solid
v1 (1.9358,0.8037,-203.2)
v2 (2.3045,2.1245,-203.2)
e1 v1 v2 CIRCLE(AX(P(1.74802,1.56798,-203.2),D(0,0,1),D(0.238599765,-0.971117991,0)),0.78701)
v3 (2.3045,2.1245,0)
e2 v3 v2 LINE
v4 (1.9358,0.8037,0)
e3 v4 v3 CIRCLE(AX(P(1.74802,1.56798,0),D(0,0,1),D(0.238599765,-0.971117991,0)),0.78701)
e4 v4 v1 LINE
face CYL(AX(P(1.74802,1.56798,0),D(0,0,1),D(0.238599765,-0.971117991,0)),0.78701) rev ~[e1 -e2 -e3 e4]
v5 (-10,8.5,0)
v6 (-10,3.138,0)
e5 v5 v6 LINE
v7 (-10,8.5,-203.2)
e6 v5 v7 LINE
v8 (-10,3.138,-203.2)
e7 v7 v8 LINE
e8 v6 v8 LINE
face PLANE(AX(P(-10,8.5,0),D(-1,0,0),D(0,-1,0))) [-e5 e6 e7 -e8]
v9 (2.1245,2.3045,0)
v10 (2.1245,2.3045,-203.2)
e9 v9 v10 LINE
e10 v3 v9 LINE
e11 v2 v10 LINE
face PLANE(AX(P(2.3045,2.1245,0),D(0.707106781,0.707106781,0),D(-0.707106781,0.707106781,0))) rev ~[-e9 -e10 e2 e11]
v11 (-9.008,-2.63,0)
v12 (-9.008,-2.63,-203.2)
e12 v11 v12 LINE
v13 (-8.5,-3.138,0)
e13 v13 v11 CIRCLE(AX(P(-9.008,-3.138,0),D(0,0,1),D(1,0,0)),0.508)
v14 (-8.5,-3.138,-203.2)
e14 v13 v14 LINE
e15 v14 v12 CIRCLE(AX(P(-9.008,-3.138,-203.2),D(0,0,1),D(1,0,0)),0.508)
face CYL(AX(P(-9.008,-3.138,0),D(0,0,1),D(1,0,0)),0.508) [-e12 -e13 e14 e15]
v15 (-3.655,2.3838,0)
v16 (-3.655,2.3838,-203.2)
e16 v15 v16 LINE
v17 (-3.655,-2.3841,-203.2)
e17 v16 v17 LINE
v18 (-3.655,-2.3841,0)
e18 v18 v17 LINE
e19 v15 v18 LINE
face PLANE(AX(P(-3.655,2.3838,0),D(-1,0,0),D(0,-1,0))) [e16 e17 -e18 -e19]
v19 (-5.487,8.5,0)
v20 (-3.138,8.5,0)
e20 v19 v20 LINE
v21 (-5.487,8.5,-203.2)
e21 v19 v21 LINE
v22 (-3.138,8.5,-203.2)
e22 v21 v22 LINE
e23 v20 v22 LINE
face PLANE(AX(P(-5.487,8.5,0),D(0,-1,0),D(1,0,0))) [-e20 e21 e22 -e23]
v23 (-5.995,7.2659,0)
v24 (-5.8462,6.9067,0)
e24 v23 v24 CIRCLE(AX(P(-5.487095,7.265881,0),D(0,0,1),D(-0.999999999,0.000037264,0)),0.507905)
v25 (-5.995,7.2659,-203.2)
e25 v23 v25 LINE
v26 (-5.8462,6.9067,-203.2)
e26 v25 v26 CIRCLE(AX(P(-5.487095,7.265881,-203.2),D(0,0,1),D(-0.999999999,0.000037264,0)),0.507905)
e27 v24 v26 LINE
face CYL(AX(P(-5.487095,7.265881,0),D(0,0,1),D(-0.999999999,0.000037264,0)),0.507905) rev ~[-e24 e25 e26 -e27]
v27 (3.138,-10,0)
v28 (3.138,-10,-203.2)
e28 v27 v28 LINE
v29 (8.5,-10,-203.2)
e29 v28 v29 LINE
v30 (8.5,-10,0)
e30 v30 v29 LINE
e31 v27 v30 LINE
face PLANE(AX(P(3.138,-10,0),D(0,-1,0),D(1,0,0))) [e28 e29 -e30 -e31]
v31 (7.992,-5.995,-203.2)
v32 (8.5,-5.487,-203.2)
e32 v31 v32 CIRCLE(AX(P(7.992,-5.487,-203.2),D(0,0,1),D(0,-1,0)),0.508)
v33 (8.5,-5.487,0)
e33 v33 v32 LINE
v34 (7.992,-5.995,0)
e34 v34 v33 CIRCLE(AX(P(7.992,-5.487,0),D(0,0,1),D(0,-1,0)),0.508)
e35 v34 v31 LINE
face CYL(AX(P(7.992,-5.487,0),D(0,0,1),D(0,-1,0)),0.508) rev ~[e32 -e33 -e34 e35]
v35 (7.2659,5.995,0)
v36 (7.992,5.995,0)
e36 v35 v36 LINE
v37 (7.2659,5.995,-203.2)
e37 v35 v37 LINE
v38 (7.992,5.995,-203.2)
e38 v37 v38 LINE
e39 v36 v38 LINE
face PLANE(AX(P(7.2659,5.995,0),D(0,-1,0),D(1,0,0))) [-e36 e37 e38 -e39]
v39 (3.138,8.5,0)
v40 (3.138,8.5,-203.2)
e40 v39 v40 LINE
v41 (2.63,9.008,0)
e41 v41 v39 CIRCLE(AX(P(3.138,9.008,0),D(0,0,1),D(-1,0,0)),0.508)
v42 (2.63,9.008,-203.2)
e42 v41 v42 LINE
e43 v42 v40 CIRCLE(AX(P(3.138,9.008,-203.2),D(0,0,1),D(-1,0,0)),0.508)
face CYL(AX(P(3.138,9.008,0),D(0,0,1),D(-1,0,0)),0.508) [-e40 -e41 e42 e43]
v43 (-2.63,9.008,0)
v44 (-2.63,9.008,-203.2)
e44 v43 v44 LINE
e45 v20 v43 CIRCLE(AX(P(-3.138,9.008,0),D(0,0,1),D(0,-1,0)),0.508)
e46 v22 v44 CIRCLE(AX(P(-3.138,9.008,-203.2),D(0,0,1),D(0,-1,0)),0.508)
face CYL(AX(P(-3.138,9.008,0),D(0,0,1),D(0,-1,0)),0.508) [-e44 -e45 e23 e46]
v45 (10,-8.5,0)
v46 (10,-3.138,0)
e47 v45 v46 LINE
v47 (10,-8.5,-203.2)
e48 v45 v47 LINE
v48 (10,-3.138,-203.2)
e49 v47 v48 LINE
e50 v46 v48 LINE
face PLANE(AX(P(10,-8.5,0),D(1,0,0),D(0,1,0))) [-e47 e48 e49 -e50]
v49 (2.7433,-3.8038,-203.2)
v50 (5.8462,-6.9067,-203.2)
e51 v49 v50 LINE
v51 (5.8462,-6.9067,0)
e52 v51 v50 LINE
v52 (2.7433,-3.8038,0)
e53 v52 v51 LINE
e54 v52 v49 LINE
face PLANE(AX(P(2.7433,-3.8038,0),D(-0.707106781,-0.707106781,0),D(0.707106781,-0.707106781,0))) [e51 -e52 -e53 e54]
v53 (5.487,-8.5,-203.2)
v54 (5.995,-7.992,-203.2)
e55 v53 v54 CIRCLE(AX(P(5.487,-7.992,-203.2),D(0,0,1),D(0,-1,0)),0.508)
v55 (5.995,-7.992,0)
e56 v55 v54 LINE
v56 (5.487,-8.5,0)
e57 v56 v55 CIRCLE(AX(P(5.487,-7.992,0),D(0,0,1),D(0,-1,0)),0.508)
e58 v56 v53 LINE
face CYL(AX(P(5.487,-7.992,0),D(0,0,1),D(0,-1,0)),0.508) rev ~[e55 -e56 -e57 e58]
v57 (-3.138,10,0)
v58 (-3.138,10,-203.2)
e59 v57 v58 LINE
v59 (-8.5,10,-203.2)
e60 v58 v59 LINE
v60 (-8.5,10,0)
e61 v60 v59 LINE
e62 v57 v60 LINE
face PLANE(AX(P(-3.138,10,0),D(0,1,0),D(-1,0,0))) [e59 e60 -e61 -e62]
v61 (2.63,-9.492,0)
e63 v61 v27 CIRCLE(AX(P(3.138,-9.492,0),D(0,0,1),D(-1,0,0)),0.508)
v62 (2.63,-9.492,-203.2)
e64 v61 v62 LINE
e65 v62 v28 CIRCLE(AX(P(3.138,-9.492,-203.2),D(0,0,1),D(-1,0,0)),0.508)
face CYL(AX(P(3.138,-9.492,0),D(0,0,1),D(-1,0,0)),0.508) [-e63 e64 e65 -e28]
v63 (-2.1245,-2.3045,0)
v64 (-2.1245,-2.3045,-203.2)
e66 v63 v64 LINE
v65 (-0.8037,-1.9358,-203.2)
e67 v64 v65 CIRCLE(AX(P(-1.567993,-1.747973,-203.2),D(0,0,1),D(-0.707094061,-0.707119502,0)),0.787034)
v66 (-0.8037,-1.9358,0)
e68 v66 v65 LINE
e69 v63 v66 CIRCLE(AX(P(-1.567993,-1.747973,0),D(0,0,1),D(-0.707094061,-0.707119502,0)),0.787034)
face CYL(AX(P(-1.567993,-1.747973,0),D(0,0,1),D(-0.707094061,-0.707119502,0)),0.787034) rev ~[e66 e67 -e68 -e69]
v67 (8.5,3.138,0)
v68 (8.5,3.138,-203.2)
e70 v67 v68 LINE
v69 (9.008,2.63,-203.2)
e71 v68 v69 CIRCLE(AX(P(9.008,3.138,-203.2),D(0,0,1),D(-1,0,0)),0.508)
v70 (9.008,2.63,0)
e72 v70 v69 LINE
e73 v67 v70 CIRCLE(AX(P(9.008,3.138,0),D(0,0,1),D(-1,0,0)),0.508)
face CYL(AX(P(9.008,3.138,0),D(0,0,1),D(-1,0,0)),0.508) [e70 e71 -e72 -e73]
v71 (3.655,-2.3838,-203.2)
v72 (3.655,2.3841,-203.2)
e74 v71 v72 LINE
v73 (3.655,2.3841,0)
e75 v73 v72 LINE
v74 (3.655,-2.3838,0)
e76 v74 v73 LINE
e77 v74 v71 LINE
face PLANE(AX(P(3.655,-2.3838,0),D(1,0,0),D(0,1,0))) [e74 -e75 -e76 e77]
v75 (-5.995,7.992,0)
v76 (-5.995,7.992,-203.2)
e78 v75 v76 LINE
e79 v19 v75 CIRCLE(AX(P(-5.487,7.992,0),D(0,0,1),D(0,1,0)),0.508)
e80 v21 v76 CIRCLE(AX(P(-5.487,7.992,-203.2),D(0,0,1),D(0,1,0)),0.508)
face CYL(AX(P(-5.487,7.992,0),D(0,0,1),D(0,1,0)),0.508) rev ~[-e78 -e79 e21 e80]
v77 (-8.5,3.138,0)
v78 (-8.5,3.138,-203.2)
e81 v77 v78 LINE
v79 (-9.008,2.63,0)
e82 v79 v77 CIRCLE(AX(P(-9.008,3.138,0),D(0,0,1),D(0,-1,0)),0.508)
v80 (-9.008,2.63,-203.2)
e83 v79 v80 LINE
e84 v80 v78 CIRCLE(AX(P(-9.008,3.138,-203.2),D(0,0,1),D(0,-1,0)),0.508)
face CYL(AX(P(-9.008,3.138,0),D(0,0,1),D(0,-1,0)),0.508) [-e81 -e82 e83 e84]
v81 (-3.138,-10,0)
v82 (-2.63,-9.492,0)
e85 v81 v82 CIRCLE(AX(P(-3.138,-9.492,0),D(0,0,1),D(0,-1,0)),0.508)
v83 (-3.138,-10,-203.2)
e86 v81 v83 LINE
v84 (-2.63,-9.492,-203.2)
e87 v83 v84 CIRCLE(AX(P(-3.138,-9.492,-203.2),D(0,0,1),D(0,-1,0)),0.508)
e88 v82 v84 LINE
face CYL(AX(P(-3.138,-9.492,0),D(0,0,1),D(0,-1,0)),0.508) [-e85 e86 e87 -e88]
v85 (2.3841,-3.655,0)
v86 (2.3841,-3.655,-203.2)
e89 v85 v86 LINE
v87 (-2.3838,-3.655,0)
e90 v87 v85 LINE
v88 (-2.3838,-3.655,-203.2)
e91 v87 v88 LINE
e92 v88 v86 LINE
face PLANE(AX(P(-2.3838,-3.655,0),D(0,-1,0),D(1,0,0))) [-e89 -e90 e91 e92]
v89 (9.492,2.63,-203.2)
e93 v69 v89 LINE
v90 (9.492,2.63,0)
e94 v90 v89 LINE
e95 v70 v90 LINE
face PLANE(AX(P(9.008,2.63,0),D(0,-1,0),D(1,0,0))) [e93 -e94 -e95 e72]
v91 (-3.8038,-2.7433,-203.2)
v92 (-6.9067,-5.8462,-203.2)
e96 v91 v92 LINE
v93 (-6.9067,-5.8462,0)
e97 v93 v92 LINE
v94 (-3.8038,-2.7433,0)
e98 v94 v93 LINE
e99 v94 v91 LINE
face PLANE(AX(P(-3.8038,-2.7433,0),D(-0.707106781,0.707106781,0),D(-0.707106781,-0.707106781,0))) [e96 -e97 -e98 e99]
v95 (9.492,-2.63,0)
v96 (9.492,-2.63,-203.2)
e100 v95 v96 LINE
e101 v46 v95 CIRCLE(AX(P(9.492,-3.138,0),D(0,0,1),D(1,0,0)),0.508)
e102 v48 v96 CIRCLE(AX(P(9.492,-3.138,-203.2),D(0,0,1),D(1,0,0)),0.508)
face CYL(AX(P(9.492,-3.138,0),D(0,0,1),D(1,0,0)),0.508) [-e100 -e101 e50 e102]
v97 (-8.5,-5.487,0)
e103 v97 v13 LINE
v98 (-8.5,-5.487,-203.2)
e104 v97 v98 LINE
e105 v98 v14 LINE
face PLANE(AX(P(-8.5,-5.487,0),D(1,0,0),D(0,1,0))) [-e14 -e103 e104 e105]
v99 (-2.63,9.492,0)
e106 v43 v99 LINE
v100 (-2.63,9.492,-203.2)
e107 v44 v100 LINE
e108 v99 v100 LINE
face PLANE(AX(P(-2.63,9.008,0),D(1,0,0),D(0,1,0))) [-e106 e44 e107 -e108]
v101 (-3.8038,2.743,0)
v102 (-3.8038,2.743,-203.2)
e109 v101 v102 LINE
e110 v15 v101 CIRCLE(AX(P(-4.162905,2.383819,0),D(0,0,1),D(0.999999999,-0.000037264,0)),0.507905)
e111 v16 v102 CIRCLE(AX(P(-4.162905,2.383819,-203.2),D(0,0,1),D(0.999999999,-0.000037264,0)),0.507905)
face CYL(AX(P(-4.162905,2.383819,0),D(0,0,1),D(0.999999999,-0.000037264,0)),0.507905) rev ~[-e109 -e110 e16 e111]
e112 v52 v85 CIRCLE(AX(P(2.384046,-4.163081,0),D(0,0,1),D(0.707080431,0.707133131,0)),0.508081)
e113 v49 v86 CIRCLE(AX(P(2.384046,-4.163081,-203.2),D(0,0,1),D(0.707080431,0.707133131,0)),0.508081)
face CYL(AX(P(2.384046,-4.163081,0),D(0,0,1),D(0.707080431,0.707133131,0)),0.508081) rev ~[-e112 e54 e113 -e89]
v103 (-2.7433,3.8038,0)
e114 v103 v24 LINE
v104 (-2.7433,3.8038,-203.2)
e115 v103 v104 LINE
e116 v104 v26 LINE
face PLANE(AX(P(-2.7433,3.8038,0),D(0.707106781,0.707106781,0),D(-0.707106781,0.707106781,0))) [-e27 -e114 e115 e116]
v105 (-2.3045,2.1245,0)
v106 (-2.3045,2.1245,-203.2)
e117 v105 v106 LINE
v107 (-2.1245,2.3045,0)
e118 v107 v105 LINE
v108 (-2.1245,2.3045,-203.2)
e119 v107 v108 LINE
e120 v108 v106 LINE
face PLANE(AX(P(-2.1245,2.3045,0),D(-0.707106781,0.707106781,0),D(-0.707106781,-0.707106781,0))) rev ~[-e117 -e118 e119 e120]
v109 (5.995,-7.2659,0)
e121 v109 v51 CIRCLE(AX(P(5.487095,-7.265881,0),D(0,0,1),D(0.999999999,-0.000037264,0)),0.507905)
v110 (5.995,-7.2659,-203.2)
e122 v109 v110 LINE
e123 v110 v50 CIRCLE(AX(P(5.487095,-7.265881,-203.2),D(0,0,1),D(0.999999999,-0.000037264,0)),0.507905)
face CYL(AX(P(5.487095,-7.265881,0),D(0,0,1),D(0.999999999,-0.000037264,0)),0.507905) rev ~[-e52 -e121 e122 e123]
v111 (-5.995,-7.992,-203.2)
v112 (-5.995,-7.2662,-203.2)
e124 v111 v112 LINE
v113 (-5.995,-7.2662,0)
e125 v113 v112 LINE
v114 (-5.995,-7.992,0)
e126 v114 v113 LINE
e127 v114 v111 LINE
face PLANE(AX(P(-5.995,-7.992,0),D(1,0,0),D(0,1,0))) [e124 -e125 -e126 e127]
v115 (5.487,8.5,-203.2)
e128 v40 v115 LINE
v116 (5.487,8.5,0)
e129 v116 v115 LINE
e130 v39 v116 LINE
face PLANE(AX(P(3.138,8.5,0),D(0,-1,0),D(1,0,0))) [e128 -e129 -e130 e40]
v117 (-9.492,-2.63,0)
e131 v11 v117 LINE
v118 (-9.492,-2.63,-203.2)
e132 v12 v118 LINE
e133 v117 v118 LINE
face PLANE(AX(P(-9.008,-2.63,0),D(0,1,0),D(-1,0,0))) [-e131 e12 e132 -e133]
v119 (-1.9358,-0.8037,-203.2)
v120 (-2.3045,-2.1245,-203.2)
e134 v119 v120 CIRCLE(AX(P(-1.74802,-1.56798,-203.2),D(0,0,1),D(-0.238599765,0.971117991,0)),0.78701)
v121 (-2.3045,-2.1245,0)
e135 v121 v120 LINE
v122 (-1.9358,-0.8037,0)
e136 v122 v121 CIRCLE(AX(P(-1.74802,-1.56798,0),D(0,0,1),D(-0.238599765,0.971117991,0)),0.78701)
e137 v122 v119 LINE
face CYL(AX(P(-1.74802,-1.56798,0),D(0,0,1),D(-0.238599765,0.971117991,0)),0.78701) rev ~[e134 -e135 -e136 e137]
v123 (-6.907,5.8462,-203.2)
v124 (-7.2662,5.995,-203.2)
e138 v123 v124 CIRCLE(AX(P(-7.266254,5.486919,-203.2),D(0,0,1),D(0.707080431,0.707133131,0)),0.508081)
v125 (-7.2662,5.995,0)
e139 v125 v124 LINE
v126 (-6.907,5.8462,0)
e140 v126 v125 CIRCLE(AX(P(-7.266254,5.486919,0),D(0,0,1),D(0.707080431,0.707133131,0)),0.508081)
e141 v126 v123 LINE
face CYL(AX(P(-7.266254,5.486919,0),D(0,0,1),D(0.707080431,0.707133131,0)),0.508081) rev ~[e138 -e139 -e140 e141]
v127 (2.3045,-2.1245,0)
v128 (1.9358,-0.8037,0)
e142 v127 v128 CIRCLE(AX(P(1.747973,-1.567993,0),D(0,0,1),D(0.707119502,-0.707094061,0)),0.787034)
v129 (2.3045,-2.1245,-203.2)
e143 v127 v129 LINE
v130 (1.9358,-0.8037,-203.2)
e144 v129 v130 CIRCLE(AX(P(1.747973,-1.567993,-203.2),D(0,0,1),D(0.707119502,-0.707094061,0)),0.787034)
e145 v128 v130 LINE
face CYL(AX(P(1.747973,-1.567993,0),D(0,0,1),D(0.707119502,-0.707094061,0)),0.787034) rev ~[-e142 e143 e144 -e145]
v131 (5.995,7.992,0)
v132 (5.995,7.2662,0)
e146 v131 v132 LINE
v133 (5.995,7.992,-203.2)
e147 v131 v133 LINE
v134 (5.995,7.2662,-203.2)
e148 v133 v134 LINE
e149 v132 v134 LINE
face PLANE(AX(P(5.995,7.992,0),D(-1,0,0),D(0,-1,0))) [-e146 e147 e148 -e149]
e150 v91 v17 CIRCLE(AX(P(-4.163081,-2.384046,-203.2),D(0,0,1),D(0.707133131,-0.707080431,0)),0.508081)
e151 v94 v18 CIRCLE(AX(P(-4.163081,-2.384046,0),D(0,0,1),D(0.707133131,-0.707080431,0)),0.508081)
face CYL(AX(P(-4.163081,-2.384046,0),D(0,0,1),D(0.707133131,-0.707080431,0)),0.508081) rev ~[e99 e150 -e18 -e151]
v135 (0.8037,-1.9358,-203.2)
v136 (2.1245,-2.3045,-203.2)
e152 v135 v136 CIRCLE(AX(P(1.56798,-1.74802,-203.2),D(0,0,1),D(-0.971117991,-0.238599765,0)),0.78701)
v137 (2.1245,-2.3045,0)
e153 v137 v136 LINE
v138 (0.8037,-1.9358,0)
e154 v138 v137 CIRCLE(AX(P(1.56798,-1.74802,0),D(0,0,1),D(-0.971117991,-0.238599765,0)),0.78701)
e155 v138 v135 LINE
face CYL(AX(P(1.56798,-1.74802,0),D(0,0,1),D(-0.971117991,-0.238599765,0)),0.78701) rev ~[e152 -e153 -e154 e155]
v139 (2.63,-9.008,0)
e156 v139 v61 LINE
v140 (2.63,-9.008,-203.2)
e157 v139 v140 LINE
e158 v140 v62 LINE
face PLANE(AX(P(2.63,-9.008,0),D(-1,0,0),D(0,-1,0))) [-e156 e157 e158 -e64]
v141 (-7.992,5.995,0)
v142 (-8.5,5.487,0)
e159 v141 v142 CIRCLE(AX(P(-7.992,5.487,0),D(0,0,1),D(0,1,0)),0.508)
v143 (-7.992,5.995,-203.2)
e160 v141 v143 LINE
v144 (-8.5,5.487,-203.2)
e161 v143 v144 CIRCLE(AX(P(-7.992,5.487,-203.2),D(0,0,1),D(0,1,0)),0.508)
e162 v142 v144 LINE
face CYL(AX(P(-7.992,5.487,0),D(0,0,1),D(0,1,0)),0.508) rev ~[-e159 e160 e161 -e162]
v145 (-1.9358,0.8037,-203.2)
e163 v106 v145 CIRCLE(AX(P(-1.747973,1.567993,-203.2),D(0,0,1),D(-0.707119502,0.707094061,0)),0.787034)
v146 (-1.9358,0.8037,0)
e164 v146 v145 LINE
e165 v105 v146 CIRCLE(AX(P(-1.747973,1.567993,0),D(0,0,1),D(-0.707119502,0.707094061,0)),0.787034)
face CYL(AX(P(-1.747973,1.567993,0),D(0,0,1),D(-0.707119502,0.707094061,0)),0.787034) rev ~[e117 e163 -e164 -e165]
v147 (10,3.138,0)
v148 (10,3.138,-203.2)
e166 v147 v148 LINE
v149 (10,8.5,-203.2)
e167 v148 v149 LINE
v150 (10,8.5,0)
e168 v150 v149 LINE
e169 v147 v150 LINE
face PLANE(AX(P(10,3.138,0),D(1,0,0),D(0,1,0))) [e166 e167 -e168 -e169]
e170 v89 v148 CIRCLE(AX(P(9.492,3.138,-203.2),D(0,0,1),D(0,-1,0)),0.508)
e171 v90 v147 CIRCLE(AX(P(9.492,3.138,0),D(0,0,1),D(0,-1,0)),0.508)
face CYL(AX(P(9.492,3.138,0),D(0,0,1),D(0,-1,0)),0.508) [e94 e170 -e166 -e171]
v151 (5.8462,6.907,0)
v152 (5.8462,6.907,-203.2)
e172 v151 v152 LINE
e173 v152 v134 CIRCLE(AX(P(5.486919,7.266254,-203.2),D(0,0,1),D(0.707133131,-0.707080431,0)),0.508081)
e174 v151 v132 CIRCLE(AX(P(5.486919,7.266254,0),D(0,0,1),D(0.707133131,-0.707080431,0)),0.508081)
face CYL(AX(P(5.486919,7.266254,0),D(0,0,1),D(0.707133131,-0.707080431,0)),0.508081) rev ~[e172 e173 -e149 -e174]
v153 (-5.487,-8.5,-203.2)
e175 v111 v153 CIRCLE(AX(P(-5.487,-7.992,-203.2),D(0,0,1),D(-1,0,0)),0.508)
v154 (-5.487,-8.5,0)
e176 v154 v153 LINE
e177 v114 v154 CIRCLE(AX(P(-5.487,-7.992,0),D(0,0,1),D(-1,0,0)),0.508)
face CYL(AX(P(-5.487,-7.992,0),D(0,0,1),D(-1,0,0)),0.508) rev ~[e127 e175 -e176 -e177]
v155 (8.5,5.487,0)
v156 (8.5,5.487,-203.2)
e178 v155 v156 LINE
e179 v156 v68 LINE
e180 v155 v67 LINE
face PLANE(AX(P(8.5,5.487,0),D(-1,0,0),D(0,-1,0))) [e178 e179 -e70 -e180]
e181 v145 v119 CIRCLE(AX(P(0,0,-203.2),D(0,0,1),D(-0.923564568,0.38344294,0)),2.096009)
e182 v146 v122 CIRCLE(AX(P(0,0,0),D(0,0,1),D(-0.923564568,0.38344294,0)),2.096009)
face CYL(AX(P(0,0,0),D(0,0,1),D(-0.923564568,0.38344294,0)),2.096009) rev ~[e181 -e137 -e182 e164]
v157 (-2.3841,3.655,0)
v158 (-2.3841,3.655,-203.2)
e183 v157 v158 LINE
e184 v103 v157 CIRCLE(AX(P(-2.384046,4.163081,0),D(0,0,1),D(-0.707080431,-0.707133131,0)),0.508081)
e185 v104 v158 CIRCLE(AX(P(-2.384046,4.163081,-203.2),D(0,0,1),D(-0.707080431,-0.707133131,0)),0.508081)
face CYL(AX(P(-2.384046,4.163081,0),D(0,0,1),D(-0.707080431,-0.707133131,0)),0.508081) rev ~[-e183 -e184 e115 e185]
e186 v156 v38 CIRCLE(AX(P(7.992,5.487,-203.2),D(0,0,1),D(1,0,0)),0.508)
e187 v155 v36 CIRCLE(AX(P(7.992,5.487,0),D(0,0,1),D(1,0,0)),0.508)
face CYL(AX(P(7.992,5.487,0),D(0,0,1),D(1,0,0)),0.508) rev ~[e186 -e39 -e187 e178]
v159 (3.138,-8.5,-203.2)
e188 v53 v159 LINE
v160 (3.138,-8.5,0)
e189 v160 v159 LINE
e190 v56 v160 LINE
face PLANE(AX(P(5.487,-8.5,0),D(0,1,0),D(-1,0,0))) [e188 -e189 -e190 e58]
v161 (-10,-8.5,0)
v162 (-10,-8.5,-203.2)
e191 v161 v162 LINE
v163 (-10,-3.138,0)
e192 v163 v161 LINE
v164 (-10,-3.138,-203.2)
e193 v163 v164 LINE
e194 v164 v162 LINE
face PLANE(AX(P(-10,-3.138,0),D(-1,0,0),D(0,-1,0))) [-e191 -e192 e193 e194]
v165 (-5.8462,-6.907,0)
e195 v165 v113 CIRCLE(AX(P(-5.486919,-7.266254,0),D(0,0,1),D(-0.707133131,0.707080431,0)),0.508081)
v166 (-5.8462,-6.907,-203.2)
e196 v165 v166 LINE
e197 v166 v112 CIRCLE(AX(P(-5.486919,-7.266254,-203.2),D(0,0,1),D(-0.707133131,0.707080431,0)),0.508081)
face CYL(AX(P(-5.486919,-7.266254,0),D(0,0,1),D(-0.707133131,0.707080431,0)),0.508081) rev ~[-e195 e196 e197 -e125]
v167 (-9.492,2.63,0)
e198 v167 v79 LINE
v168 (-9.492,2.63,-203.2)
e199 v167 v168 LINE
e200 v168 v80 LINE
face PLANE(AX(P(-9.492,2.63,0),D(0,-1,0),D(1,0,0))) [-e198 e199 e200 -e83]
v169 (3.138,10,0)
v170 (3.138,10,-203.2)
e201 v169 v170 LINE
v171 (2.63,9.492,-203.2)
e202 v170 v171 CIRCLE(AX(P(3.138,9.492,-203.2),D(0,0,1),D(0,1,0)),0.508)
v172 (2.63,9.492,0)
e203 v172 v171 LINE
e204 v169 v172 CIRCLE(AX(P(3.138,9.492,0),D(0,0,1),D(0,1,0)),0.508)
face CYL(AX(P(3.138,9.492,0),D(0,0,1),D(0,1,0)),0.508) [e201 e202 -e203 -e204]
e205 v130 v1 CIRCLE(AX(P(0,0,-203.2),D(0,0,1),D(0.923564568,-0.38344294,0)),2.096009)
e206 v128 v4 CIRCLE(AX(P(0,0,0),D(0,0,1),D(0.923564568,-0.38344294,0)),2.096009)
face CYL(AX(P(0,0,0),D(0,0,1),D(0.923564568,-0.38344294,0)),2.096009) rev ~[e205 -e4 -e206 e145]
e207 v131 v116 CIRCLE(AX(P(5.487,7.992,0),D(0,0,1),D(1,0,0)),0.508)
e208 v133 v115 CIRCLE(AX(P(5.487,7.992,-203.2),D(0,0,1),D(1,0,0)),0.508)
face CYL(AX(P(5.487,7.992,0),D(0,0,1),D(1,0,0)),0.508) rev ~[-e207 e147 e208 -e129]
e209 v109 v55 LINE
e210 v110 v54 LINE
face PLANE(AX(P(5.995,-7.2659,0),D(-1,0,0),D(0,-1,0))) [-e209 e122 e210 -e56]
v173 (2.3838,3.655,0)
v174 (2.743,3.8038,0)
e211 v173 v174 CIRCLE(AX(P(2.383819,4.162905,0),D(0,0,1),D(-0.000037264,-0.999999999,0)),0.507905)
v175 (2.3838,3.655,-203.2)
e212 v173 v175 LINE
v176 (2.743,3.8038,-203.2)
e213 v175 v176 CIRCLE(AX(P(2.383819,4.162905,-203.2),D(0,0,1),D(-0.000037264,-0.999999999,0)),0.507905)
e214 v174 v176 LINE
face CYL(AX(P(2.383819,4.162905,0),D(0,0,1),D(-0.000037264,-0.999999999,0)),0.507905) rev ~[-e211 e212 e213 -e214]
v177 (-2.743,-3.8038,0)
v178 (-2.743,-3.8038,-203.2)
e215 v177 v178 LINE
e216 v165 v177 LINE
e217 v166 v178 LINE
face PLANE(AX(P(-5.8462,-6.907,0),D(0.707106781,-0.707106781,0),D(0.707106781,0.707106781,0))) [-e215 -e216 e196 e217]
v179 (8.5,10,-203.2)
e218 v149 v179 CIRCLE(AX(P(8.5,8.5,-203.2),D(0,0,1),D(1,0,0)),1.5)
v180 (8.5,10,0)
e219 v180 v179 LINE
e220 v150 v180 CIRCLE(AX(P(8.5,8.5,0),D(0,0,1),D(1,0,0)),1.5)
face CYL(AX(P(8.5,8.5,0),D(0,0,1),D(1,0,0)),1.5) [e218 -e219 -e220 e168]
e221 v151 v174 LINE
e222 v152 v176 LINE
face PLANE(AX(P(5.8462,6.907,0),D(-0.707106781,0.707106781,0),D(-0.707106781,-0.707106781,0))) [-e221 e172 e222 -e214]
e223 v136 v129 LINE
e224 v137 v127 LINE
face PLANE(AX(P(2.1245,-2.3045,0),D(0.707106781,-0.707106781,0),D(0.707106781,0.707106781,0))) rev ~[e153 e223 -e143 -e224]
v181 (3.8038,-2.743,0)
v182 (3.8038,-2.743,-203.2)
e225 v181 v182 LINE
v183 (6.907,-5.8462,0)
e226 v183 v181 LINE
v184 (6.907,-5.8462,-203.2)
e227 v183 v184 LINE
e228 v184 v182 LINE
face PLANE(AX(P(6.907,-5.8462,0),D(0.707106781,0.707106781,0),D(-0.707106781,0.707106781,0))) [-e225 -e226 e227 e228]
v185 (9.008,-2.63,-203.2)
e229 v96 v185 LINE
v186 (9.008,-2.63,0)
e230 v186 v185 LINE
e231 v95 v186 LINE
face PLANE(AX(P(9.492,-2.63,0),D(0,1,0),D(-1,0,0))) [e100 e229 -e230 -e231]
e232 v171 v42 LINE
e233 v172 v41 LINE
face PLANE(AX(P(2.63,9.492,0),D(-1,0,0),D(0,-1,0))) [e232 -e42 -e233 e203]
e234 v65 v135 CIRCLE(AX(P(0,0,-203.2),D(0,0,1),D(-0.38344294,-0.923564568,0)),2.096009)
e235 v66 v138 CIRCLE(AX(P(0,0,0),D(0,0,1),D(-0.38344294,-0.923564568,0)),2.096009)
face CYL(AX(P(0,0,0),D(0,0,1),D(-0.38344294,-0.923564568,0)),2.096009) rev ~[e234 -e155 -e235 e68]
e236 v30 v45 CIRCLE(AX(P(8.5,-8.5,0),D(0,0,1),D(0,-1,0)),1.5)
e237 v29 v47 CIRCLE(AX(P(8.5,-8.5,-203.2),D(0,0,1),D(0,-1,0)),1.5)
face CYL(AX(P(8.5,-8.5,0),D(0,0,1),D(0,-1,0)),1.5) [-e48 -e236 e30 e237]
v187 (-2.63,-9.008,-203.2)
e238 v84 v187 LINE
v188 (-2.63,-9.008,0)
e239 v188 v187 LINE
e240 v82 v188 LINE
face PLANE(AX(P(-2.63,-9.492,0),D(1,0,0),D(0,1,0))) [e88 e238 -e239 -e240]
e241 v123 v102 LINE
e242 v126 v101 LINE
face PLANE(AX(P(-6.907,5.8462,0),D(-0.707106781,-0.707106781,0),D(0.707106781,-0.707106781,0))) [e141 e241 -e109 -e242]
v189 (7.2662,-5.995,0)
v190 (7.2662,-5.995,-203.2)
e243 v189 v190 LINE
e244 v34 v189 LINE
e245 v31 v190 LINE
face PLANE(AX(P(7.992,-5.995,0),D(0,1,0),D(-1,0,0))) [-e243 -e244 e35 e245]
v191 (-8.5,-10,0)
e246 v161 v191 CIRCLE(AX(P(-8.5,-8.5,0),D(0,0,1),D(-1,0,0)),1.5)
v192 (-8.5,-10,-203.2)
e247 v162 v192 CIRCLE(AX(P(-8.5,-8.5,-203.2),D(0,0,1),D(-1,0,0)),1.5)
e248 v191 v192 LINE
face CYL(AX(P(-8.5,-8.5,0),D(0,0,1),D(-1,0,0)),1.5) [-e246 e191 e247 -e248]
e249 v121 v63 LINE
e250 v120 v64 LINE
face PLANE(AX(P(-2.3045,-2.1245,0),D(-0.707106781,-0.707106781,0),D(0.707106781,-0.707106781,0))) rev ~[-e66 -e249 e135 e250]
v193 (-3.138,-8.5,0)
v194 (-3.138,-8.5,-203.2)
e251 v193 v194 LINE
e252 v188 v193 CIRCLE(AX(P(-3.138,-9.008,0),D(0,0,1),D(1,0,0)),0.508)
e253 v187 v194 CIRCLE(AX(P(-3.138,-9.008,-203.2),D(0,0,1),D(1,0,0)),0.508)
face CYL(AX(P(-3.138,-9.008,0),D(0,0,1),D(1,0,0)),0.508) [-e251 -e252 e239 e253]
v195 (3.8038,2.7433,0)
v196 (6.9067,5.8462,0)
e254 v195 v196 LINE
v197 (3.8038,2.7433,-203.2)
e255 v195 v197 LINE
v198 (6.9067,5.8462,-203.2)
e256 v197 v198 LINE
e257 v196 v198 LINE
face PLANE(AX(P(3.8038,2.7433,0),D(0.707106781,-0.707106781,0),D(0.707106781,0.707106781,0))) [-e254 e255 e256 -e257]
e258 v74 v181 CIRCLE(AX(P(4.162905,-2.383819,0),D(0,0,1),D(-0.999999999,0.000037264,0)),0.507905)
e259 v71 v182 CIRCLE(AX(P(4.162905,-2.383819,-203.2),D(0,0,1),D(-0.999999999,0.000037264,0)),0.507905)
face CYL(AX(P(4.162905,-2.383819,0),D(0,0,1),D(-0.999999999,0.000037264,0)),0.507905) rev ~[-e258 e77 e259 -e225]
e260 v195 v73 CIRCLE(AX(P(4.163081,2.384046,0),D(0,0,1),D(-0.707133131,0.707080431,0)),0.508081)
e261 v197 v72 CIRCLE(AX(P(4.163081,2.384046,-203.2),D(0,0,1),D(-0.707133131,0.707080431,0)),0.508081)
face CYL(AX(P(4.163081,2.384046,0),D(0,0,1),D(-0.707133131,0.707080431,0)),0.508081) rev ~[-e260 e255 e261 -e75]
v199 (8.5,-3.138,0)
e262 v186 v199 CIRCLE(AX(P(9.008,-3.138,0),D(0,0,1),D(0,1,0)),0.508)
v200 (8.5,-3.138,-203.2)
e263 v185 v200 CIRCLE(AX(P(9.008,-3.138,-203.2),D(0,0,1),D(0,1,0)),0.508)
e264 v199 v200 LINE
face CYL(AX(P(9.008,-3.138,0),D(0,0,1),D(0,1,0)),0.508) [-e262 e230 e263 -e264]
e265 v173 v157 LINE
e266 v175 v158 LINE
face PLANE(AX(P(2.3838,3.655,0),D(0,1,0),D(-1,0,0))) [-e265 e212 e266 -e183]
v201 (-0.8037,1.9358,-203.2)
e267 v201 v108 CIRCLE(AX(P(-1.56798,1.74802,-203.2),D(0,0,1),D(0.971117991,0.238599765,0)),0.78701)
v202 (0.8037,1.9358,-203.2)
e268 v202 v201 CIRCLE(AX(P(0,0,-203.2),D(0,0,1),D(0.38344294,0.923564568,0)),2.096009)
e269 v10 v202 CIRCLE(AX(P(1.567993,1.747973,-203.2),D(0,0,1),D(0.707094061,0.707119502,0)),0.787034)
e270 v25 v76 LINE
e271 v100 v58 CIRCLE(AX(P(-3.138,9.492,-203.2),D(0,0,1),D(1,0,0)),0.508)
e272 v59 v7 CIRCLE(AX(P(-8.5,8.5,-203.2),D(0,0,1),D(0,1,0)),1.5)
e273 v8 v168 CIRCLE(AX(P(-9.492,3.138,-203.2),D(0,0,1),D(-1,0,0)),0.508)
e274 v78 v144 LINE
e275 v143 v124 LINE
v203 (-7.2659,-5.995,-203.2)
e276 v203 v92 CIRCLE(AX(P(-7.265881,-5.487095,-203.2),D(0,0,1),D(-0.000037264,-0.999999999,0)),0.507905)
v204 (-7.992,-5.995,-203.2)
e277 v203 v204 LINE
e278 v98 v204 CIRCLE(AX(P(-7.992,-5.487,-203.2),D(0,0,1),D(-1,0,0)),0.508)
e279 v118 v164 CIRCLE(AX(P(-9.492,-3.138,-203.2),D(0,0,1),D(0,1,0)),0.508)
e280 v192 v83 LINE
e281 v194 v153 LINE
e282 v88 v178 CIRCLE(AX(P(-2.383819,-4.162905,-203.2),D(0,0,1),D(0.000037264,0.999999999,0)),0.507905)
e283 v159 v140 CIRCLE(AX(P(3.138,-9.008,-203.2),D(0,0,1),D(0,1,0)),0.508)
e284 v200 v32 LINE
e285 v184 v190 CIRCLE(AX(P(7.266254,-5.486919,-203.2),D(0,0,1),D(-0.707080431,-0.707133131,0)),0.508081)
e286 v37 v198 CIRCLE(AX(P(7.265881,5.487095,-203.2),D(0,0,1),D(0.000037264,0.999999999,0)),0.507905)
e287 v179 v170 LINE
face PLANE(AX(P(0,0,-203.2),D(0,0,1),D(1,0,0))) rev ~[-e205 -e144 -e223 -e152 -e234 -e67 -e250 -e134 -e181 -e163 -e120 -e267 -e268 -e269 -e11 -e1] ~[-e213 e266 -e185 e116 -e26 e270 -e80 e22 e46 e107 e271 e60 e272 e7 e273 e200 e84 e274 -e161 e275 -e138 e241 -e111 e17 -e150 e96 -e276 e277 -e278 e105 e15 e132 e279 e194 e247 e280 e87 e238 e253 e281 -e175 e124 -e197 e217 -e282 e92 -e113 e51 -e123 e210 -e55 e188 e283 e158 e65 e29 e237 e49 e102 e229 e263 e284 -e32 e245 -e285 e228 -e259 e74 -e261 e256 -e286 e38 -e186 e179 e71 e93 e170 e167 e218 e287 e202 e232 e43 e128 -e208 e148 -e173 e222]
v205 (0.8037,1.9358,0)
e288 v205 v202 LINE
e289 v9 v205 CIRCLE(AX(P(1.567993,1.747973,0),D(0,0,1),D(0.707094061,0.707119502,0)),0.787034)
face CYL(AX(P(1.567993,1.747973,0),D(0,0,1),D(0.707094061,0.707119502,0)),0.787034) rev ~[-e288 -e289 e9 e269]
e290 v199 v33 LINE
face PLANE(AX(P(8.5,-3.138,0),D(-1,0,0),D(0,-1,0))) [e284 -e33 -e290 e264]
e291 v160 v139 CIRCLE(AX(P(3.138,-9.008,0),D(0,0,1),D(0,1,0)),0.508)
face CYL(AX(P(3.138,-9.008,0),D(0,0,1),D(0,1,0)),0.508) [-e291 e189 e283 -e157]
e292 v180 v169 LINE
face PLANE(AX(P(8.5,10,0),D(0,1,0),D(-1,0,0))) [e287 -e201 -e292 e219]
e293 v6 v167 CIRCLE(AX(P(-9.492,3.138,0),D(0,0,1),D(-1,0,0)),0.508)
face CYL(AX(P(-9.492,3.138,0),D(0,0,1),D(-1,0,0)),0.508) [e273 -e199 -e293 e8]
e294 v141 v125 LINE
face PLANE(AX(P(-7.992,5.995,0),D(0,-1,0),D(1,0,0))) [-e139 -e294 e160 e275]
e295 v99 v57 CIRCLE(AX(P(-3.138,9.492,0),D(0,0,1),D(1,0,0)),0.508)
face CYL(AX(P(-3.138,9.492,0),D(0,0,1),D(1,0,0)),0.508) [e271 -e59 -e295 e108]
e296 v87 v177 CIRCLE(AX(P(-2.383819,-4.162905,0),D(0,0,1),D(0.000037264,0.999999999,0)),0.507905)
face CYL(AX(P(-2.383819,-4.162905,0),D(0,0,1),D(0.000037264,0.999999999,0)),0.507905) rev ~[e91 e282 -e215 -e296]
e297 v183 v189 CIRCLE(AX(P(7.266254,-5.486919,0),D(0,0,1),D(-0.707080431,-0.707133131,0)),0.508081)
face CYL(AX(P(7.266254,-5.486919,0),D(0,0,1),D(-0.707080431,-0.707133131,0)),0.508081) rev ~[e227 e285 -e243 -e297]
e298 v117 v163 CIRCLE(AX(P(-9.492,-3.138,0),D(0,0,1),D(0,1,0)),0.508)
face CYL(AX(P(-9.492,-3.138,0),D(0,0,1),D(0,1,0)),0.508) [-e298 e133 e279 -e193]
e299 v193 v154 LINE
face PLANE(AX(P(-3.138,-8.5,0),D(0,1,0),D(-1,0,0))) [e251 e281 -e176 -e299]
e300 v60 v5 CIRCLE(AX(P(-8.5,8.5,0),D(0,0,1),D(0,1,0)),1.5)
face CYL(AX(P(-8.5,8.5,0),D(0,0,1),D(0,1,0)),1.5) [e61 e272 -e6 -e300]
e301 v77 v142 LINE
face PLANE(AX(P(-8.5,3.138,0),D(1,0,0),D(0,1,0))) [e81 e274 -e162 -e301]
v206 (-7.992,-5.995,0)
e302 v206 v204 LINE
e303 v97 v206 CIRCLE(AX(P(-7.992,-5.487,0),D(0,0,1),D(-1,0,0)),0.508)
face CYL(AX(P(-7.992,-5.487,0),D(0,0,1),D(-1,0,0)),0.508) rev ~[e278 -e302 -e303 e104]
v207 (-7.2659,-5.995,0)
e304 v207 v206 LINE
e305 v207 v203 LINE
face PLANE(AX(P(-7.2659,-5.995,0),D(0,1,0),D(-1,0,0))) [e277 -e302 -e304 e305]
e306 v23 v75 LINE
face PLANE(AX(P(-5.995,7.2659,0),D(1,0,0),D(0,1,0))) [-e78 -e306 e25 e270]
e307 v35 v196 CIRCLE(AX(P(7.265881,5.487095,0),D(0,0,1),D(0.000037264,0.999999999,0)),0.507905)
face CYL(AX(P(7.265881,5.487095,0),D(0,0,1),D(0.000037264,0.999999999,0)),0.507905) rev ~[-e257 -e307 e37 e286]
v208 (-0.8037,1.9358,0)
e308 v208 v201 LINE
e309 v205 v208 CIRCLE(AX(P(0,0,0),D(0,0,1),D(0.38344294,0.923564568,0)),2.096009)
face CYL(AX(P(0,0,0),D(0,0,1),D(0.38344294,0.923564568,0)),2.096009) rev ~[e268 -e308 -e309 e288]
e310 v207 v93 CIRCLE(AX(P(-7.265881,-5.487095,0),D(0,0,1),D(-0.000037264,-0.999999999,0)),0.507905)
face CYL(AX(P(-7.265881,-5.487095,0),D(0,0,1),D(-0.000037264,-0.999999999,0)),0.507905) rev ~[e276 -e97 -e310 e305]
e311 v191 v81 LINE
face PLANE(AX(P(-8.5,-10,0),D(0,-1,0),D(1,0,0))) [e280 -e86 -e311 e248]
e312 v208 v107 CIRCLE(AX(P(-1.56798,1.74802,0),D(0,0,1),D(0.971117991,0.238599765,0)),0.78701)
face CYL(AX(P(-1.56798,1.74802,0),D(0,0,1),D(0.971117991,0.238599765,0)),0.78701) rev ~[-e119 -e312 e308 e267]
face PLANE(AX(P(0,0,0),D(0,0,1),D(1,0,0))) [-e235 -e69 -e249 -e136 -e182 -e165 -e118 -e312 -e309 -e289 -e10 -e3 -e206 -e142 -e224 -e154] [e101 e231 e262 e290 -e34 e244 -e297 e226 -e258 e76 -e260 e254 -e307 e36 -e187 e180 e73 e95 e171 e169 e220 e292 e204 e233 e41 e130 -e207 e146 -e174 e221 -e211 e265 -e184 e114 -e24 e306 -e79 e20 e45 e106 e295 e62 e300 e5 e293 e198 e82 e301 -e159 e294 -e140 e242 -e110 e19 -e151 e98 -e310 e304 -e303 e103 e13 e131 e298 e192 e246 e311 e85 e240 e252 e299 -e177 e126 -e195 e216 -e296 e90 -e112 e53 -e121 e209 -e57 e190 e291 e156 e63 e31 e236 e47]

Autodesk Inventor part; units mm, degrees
ref_plane "YZ Plane" through (0, 0, 0) normal (1, 0, 0) x (0, 1, 0)
ref_plane "XZ Plane" through (0, 0, 0) normal (0, 1, 0) x (-1, 0, 0)
ref_plane "XY Plane" through (0, 0, 0) normal (0, 0, 1) x (1, 0, 0)
sketch "Sketch_1" plane through (0, 0, 0) normal (0, 0, 1) x (1, 0, 0)
  arc A0 (-10, -8.5) -> (-8.5, -10) centre (-8.5, -8.5) ccw
  line L0 (-8.5, -10) -> (-3.138, -10)
  arc A1 (-3.138, -10) -> (-2.63, -9.492) centre (-3.138, -9.492) ccw
  line L1 (-2.63, -9.492) -> (-2.63, -9.008)
  arc A2 (-2.63, -9.008) -> (-3.138, -8.5) centre (-3.138, -9.008) ccw
  line L2 (-3.138, -8.5) -> (-5.487, -8.5)
  arc A3 (-5.995, -7.992) -> (-5.487, -8.5) centre (-5.487, -7.992) ccw
  line L3 (-5.995, -7.992) -> (-5.995, -7.2662)
  arc A4 (-5.8462, -6.907) -> (-5.995, -7.2662) centre (-5.487, -7.2662) ccw
  line L4 (-5.8462, -6.907) -> (-2.743, -3.8038)
  arc A5 (-2.3838, -3.655) -> (-2.743, -3.8038) centre (-2.3838, -4.163) ccw
  line L5 (-2.3838, -3.655) -> (2.3841, -3.655)
  arc A6 (2.7433, -3.8038) -> (2.3841, -3.655) centre (2.3841, -4.163) ccw
  line L6 (2.7433, -3.8038) -> (5.8462, -6.9067)
  arc A7 (5.995, -7.2659) -> (5.8462, -6.9067) centre (5.487, -7.2659) ccw
  line L7 (5.995, -7.2659) -> (5.995, -7.992)
  arc A8 (5.487, -8.5) -> (5.995, -7.992) centre (5.487, -7.992) ccw
  line L8 (5.487, -8.5) -> (3.138, -8.5)
  arc A9 (3.138, -8.5) -> (2.63, -9.008) centre (3.138, -9.008) ccw
  line L9 (2.63, -9.008) -> (2.63, -9.492)
  arc A10 (2.63, -9.492) -> (3.138, -10) centre (3.138, -9.492) ccw
  line L10 (3.138, -10) -> (8.5, -10)
  arc A11 (8.5, -10) -> (10, -8.5) centre (8.5, -8.5) ccw
  line L11 (10, -8.5) -> (10, -3.138)
  arc A12 (10, -3.138) -> (9.492, -2.63) centre (9.492, -3.138) ccw
  line L12 (9.492, -2.63) -> (9.008, -2.63)
  arc A13 (9.008, -2.63) -> (8.5, -3.138) centre (9.008, -3.138) ccw
  line L13 (8.5, -3.138) -> (8.5, -5.487)
  arc A14 (7.992, -5.995) -> (8.5, -5.487) centre (7.992, -5.487) ccw
  line L14 (7.992, -5.995) -> (7.2662, -5.995)
  arc A15 (6.907, -5.8462) -> (7.2662, -5.995) centre (7.2662, -5.487) ccw
  line L15 (6.907, -5.8462) -> (3.8038, -2.743)
  arc A16 (3.655, -2.3838) -> (3.8038, -2.743) centre (4.163, -2.3838) ccw
  line L16 (3.655, -2.3838) -> (3.655, 2.3841)
  arc A17 (3.8038, 2.7433) -> (3.655, 2.3841) centre (4.163, 2.3841) ccw
  line L17 (3.8038, 2.7433) -> (6.9067, 5.8462)
  arc A18 (7.2659, 5.995) -> (6.9067, 5.8462) centre (7.2659, 5.487) ccw
  line L18 (7.2659, 5.995) -> (7.992, 5.995)
  arc A19 (8.5, 5.487) -> (7.992, 5.995) centre (7.992, 5.487) ccw
  line L19 (8.5, 5.487) -> (8.5, 3.138)
  arc A20 (8.5, 3.138) -> (9.008, 2.63) centre (9.008, 3.138) ccw
  line L20 (9.008, 2.63) -> (9.492, 2.63)
  arc A21 (9.492, 2.63) -> (10, 3.138) centre (9.492, 3.138) ccw
  line L21 (10, 3.138) -> (10, 8.5)
  arc A22 (10, 8.5) -> (8.5, 10) centre (8.5, 8.5) ccw
  line L22 (8.5, 10) -> (3.138, 10)
  arc A23 (3.138, 10) -> (2.63, 9.492) centre (3.138, 9.492) ccw
  line L23 (2.63, 9.492) -> (2.63, 9.008)
  arc A24 (2.63, 9.008) -> (3.138, 8.5) centre (3.138, 9.008) ccw
  line L24 (3.138, 8.5) -> (5.487, 8.5)
  arc A25 (5.995, 7.992) -> (5.487, 8.5) centre (5.487, 7.992) ccw
  line L25 (5.995, 7.992) -> (5.995, 7.2662)
  arc A26 (5.8462, 6.907) -> (5.995, 7.2662) centre (5.487, 7.2662) ccw
  line L26 (5.8462, 6.907) -> (2.743, 3.8038)
  arc A27 (2.3838, 3.655) -> (2.743, 3.8038) centre (2.3838, 4.163) ccw
  line L27 (2.3838, 3.655) -> (-2.3841, 3.655)
  arc A28 (-2.7433, 3.8038) -> (-2.3841, 3.655) centre (-2.3841, 4.163) ccw
  line L28 (-2.7433, 3.8038) -> (-5.8462, 6.9067)
  arc A29 (-5.995, 7.2659) -> (-5.8462, 6.9067) centre (-5.487, 7.2659) ccw
  line L29 (-5.995, 7.2659) -> (-5.995, 7.992)
  arc A30 (-5.487, 8.5) -> (-5.995, 7.992) centre (-5.487, 7.992) ccw
  line L30 (-5.487, 8.5) -> (-3.138, 8.5)
  arc A31 (-3.138, 8.5) -> (-2.63, 9.008) centre (-3.138, 9.008) ccw
  line L31 (-2.63, 9.008) -> (-2.63, 9.492)
  arc A32 (-2.63, 9.492) -> (-3.138, 10) centre (-3.138, 9.492) ccw
  line L32 (-3.138, 10) -> (-8.5, 10)
  arc A33 (-8.5, 10) -> (-10, 8.5) centre (-8.5, 8.5) ccw
  line L33 (-10, 8.5) -> (-10, 3.138)
  arc A34 (-10, 3.138) -> (-9.492, 2.63) centre (-9.492, 3.138) ccw
  line L34 (-9.492, 2.63) -> (-9.008, 2.63)
  arc A35 (-9.008, 2.63) -> (-8.5, 3.138) centre (-9.008, 3.138) ccw
  line L35 (-8.5, 3.138) -> (-8.5, 5.487)
  arc A36 (-7.992, 5.995) -> (-8.5, 5.487) centre (-7.992, 5.487) ccw
  line L36 (-7.992, 5.995) -> (-7.2662, 5.995)
  arc A37 (-6.907, 5.8462) -> (-7.2662, 5.995) centre (-7.2662, 5.487) ccw
  line L37 (-6.907, 5.8462) -> (-3.8038, 2.743)
  arc A38 (-3.655, 2.3838) -> (-3.8038, 2.743) centre (-4.163, 2.3838) ccw
  line L38 (-3.655, 2.3838) -> (-3.655, -2.3841)
  arc A39 (-3.8038, -2.7433) -> (-3.655, -2.3841) centre (-4.163, -2.3841) ccw
  line L39 (-3.8038, -2.7433) -> (-6.9067, -5.8462)
  arc A40 (-7.2659, -5.995) -> (-6.9067, -5.8462) centre (-7.2659, -5.487) ccw
  line L40 (-7.2659, -5.995) -> (-7.992, -5.995)
  arc A41 (-8.5, -5.487) -> (-7.992, -5.995) centre (-7.992, -5.487) ccw
  line L41 (-8.5, -5.487) -> (-8.5, -3.138)
  arc A42 (-8.5, -3.138) -> (-9.008, -2.63) centre (-9.008, -3.138) ccw
  line L42 (-9.008, -2.63) -> (-9.492, -2.63)
  arc A43 (-9.492, -2.63) -> (-10, -3.138) centre (-9.492, -3.138) ccw
  line L43 (-10, -3.138) -> (-10, -8.5)
  arc A44 (-1.9358, -0.8037) -> (-2.3045, -2.1245) centre (-1.748, -1.568) ccw
  line L44 (-2.3045, -2.1245) -> (-2.1245, -2.3045)
  arc A45 (-2.1245, -2.3045) -> (-0.8037, -1.9358) centre (-1.568, -1.748) ccw
  arc A46 (-0.8037, -1.9358) -> (0.8037, -1.9358) centre (0, 0) ccw
  arc A47 (0.8037, -1.9358) -> (2.1245, -2.3045) centre (1.568, -1.748) ccw
  line L45 (2.1245, -2.3045) -> (2.3045, -2.1245)
  arc A48 (2.3045, -2.1245) -> (1.9358, -0.8037) centre (1.748, -1.568) ccw
  arc A49 (1.9358, -0.8037) -> (1.9358, 0.8037) centre (0, 0) ccw
  arc A50 (1.9358, 0.8037) -> (2.3045, 2.1245) centre (1.748, 1.568) ccw
  line L46 (2.3045, 2.1245) -> (2.1245, 2.3045)
  arc A51 (2.1245, 2.3045) -> (0.8037, 1.9358) centre (1.568, 1.748) ccw
  arc A52 (0.8037, 1.9358) -> (-0.8037, 1.9358) centre (0, 0) ccw
  arc A53 (-0.8037, 1.9358) -> (-2.1245, 2.3045) centre (-1.568, 1.748) ccw
  line L47 (-2.1245, 2.3045) -> (-2.3045, 2.1245)
  arc A54 (-2.3045, 2.1245) -> (-1.9358, 0.8037) centre (-1.748, 1.568) ccw
  arc A55 (-1.9358, 0.8037) -> (-1.9358, -0.8037) centre (0, 0) ccw
extrude "Extrusion1" add sketch "Sketch_1" against normal blind 203.2
properties part number "20-2020-Black-203.2-CL"
